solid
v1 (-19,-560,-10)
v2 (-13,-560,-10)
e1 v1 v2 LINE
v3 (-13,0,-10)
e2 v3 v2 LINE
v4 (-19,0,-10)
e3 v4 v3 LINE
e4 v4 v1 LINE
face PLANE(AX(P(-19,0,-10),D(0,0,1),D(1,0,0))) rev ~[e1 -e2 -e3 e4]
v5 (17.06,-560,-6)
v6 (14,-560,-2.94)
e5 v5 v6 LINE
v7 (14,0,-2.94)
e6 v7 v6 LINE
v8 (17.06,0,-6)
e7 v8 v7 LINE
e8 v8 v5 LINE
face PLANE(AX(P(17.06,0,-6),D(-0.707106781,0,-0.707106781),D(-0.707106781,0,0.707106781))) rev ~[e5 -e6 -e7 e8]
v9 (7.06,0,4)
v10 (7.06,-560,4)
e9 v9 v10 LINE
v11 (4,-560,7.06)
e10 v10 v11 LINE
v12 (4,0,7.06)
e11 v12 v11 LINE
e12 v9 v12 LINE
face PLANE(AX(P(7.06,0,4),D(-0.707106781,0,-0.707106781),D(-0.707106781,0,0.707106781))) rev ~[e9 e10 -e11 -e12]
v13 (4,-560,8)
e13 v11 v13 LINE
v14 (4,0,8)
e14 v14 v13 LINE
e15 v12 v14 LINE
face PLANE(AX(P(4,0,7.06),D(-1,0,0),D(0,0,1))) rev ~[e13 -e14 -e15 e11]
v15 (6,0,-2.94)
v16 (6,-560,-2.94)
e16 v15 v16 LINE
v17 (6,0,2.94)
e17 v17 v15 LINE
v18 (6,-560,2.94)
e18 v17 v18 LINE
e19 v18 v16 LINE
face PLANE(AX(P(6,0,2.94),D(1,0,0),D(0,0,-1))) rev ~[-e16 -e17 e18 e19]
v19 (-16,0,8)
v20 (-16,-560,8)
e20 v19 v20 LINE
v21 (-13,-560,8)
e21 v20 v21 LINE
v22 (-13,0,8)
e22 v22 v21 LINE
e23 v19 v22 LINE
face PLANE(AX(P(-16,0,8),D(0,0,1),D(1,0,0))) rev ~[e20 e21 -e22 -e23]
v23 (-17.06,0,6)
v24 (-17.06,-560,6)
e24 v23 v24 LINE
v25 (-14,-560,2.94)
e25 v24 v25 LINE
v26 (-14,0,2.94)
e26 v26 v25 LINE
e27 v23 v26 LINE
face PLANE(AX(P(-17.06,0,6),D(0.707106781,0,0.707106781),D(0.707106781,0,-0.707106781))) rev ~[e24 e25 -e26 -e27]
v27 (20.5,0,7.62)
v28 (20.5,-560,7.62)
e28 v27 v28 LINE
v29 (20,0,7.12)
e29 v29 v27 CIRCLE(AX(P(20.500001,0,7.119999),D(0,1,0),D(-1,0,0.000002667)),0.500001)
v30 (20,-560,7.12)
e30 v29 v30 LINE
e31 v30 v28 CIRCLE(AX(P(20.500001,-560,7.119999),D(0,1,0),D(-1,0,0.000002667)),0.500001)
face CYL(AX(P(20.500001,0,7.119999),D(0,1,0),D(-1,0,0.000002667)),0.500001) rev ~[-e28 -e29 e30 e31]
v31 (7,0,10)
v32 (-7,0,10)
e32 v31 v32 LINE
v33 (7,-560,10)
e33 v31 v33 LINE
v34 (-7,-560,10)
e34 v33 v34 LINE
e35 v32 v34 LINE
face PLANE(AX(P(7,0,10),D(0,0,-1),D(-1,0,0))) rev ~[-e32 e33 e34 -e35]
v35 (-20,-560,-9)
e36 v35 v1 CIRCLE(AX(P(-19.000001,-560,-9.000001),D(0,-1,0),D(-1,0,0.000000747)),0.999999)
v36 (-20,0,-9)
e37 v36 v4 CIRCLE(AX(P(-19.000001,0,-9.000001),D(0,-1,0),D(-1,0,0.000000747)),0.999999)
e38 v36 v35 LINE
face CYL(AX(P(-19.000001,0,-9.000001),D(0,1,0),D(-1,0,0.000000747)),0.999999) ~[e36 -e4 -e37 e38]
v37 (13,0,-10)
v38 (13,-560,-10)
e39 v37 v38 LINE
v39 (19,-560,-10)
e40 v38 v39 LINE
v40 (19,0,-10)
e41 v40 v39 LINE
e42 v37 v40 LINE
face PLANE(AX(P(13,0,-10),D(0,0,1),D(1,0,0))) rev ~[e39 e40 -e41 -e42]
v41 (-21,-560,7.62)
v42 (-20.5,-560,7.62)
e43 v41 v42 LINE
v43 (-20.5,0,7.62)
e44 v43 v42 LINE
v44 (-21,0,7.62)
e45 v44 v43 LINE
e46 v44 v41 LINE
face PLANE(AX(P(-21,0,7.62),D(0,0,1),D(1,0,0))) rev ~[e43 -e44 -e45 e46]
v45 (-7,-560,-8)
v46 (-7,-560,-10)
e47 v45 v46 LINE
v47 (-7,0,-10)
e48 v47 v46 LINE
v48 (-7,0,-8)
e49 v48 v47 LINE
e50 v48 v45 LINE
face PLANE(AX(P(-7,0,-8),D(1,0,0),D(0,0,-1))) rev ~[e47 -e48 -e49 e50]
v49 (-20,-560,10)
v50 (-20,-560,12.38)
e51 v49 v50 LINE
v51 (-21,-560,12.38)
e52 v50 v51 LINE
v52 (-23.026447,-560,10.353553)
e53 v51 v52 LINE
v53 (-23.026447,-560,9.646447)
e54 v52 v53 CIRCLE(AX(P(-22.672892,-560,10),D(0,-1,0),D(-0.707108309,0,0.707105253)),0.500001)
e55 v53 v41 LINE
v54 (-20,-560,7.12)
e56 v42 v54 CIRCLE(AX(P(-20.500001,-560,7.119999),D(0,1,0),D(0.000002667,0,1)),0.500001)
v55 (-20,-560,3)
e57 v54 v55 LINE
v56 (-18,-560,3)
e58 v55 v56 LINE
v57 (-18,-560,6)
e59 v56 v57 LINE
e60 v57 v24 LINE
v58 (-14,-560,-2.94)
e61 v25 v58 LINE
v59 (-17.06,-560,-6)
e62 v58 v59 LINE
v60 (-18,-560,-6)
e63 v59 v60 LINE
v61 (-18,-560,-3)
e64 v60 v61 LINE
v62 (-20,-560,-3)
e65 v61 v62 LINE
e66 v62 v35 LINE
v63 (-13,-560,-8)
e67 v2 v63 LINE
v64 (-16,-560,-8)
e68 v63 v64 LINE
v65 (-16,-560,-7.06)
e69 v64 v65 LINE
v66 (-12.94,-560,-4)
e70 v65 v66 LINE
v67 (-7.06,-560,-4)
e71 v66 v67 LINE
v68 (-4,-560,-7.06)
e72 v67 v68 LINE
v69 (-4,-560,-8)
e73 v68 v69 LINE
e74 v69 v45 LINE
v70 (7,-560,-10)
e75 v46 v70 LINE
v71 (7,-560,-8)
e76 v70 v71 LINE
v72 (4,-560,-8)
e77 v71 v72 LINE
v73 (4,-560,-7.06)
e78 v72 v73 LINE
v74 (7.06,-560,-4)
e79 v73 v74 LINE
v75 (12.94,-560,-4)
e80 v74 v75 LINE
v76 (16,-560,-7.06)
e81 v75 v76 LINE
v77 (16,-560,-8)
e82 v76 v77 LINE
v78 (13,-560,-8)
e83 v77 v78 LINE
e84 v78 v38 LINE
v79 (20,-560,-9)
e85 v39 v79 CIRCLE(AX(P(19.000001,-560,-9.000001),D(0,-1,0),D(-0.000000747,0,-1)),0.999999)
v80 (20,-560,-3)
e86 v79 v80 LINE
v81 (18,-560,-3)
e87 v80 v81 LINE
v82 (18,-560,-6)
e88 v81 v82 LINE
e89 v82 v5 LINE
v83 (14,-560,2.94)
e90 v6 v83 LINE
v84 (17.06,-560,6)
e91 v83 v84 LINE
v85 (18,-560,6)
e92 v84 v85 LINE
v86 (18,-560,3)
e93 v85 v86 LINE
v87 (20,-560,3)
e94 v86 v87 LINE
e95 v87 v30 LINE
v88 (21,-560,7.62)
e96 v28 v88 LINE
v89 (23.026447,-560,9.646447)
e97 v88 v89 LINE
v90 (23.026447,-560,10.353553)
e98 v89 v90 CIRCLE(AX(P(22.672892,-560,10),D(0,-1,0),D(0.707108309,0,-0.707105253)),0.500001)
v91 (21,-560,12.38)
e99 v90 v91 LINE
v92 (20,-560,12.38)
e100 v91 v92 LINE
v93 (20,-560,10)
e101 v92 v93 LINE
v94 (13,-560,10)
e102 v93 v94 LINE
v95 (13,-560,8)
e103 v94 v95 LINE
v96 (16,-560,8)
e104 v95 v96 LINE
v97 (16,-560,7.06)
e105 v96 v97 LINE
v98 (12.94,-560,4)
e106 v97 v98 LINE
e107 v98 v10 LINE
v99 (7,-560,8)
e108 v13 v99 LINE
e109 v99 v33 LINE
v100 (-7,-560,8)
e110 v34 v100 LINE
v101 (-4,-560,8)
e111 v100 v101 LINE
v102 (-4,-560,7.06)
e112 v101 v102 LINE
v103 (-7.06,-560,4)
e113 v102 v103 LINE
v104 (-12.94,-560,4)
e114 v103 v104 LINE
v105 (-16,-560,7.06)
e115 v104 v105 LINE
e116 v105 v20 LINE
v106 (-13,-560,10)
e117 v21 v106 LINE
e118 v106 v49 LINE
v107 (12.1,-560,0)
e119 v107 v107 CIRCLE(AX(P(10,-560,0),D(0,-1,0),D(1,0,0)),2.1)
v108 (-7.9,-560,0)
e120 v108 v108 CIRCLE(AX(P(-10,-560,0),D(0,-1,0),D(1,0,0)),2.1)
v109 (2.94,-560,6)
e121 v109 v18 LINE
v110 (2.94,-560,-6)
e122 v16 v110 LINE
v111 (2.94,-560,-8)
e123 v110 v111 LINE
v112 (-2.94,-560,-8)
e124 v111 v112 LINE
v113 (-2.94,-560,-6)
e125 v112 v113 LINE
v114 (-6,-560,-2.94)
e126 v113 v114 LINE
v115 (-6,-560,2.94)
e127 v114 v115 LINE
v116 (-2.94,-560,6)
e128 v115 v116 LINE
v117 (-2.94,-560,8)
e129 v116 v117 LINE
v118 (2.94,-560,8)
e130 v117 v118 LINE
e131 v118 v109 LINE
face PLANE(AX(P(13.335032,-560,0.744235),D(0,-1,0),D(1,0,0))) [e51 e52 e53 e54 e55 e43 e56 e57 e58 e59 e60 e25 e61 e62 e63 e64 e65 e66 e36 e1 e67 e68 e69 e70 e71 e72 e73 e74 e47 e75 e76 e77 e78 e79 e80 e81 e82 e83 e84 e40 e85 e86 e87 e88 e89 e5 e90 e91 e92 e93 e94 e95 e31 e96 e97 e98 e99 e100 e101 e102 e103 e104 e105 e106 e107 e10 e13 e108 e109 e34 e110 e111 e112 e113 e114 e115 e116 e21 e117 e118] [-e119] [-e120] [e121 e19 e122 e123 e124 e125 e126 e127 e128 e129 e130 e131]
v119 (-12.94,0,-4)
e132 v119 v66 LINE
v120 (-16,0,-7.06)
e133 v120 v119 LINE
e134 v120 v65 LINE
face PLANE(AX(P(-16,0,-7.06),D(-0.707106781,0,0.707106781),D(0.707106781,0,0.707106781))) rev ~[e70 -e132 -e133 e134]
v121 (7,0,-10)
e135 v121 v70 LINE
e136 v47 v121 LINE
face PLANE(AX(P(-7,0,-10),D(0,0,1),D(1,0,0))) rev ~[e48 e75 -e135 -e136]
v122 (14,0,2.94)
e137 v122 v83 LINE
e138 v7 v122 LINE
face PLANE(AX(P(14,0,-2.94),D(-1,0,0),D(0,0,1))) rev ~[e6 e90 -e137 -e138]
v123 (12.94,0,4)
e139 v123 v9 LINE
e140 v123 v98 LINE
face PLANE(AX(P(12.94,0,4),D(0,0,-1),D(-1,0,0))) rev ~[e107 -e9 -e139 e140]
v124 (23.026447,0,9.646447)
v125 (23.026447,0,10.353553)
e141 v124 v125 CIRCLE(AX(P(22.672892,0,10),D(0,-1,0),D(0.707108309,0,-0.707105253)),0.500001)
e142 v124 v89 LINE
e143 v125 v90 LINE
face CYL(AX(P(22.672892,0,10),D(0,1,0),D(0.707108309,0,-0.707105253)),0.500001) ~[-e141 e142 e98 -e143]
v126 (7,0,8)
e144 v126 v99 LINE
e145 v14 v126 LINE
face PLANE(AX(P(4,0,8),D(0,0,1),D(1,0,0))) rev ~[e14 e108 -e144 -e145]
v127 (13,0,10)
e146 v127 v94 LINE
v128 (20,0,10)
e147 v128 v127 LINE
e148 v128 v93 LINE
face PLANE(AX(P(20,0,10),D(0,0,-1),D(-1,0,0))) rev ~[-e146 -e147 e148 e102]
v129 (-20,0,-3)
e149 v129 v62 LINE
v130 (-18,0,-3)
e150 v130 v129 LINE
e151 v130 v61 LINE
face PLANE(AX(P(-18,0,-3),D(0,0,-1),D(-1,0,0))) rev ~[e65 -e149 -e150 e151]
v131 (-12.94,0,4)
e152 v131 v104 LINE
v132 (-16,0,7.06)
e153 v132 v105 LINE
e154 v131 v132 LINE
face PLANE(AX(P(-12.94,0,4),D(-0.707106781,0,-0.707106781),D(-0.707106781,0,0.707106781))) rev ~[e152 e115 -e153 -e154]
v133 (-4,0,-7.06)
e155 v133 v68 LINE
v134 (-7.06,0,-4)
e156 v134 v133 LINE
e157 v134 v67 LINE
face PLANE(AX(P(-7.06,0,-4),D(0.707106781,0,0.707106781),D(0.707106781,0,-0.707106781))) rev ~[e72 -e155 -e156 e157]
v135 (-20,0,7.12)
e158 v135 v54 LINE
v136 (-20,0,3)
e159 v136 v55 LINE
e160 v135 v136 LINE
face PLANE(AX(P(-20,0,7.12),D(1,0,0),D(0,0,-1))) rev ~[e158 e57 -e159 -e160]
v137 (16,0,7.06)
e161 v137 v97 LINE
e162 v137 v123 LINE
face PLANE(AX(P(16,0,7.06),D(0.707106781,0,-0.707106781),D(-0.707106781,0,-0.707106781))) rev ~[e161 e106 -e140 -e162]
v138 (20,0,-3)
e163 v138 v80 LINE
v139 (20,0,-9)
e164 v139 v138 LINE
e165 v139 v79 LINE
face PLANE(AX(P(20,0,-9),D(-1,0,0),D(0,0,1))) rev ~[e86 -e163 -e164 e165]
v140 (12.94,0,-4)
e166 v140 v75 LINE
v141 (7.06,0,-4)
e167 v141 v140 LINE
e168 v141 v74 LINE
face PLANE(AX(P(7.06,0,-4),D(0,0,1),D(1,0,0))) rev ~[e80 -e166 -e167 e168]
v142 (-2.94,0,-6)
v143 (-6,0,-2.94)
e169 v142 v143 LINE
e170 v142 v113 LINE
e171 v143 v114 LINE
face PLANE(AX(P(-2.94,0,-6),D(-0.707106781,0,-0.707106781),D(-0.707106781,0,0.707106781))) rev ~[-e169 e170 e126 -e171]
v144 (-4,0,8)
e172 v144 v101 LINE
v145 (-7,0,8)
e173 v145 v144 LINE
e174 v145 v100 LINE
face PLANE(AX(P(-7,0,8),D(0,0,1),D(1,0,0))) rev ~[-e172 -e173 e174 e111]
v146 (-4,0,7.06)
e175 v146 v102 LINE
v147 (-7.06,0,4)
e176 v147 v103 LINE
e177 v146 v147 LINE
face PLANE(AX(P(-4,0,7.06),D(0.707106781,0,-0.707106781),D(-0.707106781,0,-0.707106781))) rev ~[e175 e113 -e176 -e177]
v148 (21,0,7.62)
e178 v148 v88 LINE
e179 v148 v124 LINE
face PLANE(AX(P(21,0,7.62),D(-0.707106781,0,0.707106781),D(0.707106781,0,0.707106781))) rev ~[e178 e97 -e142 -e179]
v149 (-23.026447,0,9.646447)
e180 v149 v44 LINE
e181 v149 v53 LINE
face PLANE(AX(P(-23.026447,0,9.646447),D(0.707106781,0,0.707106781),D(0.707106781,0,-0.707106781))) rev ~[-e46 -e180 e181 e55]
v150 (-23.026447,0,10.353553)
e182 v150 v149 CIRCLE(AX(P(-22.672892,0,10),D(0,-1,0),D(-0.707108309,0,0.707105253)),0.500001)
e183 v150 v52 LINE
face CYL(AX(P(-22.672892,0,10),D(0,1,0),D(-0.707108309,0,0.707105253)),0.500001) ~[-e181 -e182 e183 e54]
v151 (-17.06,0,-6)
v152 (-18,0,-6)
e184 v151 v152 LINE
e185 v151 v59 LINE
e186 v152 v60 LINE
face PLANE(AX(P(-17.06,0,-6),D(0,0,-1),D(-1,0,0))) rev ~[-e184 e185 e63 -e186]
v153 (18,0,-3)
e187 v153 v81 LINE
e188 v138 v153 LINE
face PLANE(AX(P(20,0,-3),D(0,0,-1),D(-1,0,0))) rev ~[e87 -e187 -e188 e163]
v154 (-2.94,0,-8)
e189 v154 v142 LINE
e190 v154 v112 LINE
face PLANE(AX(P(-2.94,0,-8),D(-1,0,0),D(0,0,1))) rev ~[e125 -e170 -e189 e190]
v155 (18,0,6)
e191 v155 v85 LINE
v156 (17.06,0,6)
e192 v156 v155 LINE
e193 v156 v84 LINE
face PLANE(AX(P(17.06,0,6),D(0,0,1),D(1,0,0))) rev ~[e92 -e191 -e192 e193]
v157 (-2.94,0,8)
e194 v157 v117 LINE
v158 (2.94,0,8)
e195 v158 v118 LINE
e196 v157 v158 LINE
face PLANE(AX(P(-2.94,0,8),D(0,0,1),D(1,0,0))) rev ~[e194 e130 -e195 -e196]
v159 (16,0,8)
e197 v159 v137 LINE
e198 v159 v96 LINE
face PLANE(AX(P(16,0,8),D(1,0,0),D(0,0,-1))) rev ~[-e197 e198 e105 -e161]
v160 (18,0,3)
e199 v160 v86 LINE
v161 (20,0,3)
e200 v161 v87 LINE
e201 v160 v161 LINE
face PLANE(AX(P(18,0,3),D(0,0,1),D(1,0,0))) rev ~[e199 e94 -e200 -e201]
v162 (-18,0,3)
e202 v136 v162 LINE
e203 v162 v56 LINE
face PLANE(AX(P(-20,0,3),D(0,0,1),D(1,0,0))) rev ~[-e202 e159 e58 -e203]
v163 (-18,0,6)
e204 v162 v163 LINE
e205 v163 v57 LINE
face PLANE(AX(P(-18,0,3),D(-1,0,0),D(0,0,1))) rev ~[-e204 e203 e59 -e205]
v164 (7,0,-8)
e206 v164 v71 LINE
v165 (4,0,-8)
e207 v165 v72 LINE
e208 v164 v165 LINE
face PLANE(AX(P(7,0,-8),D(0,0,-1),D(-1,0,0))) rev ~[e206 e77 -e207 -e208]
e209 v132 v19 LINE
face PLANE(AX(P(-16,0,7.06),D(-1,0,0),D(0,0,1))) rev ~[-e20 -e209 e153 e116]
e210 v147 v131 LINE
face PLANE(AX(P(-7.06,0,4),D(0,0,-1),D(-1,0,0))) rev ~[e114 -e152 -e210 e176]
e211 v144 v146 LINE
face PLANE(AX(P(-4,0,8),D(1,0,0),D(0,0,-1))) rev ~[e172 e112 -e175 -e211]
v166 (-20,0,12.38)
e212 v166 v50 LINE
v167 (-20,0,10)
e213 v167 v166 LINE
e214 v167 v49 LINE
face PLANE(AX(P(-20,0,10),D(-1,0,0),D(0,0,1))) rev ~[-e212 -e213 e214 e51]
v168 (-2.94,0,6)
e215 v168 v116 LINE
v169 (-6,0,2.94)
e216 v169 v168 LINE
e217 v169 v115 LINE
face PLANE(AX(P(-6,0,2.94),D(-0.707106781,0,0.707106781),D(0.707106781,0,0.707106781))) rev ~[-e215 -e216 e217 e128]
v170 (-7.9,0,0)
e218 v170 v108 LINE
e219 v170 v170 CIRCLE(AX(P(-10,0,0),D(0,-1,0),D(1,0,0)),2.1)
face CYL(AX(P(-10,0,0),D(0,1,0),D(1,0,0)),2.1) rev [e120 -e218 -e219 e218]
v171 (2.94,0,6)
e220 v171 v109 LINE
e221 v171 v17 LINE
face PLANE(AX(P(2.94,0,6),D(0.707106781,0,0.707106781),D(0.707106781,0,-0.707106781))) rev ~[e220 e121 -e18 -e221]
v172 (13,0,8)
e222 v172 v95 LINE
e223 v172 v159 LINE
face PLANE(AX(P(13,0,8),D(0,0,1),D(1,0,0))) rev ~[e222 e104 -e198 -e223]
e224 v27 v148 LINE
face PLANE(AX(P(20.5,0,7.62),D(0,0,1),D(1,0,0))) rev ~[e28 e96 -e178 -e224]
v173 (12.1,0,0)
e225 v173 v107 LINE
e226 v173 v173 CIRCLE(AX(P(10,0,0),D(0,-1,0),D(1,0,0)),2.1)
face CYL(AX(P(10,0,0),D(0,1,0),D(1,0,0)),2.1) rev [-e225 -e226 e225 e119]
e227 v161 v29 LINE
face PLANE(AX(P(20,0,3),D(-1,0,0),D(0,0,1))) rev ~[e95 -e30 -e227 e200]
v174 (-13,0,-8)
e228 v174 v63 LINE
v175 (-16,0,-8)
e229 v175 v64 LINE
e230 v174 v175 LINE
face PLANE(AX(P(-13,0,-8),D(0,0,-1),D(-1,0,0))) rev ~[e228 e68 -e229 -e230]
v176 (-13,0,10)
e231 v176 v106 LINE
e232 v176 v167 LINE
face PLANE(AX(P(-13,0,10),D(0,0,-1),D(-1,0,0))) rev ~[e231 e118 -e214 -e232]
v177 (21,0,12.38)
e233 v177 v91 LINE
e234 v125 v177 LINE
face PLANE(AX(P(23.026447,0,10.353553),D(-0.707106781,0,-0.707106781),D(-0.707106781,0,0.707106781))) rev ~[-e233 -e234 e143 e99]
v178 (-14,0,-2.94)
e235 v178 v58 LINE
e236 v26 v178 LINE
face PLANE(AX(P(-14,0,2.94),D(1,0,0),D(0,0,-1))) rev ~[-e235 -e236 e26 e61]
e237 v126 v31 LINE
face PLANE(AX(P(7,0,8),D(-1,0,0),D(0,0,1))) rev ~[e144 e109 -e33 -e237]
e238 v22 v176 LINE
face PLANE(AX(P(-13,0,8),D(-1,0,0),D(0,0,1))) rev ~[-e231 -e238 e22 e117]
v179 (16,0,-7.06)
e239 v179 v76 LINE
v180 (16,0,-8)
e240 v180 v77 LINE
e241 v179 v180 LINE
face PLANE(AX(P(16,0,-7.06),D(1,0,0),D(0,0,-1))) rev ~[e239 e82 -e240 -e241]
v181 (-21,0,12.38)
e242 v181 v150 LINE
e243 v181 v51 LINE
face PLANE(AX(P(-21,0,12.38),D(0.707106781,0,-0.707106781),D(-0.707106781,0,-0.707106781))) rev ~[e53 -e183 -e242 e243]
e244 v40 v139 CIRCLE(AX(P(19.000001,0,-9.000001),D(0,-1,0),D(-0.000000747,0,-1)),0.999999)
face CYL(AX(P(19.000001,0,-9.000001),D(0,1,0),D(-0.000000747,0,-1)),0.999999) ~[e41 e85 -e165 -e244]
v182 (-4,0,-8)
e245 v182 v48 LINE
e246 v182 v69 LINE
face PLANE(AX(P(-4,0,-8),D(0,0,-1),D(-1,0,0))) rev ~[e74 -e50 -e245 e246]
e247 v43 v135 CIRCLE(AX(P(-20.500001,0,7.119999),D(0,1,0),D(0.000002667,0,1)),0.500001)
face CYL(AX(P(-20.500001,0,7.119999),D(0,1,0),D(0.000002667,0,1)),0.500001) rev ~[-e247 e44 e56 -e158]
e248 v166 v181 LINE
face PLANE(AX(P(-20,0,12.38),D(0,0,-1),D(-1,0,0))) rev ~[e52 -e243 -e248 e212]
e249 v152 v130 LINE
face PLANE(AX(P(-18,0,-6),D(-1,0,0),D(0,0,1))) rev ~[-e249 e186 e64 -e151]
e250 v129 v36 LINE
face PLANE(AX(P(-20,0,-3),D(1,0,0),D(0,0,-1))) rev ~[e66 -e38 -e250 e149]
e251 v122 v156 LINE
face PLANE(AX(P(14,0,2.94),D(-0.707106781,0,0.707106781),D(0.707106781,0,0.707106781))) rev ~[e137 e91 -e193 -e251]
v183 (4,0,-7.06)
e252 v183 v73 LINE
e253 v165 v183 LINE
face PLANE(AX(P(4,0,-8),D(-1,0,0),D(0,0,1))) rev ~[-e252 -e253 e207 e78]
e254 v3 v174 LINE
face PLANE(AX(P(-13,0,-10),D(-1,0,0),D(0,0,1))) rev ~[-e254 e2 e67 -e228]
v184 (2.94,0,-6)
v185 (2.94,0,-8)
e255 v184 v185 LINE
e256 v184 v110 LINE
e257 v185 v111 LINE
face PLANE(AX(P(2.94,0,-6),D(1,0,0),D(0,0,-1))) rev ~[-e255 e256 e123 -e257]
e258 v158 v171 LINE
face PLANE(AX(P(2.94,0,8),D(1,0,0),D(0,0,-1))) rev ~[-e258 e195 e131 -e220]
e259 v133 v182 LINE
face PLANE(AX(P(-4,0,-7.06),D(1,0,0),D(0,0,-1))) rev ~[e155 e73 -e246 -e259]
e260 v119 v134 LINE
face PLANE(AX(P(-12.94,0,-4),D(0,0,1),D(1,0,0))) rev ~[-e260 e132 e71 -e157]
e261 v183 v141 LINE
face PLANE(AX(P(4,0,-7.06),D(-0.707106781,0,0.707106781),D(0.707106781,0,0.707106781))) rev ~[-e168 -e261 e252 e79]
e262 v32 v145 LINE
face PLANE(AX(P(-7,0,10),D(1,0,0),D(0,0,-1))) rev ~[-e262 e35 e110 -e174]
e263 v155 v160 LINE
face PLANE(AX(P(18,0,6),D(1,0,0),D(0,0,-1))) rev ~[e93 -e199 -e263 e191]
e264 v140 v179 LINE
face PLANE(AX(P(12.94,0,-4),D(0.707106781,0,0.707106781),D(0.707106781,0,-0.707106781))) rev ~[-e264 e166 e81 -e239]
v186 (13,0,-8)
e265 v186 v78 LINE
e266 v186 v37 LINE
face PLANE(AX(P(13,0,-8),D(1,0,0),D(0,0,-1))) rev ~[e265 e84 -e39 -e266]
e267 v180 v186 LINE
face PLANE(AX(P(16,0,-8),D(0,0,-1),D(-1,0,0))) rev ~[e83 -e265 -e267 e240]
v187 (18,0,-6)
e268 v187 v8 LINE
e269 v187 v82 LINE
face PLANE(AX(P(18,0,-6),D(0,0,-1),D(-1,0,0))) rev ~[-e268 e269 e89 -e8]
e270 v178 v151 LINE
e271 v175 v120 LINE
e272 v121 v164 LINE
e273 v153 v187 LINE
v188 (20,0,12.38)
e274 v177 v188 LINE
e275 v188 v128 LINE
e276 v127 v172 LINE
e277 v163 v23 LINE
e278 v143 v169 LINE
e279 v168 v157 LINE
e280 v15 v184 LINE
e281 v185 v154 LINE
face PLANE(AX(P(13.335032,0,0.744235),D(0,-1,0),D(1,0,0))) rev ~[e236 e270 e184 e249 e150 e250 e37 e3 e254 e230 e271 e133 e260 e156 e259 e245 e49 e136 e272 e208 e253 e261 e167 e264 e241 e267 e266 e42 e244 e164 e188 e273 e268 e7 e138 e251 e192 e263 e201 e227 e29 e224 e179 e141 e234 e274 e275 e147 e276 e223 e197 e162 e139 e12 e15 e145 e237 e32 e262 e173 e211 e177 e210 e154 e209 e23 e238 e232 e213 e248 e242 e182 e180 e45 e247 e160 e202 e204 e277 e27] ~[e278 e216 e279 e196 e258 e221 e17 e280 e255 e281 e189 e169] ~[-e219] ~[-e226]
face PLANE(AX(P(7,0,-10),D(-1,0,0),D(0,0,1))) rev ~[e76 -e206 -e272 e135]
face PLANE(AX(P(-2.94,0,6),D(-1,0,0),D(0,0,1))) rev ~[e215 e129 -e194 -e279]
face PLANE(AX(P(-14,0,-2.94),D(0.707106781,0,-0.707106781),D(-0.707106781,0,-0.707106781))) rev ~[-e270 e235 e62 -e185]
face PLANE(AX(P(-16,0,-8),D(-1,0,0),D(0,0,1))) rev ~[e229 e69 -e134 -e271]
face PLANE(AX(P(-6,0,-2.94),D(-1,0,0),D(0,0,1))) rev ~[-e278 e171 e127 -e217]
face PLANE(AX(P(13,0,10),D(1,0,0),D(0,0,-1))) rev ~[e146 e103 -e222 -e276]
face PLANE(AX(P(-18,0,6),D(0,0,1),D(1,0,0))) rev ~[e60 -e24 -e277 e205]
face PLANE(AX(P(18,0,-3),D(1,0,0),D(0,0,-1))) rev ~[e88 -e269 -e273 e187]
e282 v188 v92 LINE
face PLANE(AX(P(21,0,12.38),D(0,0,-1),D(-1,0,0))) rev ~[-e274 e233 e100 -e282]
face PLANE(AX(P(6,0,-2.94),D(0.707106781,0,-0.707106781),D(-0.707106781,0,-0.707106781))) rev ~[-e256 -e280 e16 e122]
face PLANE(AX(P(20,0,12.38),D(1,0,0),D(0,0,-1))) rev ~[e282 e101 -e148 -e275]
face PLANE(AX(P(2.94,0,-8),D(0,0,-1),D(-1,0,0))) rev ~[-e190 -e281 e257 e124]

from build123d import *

# Parameters (mm, degrees)
F0_R     = 2.1
F1_DEPTH = 560


with BuildPart() as f1:
    # F0 (on Front) → F1 (new body)
    with BuildSketch(Plane.XZ):
        with BuildLine():
            Line((20, 12.38), (20, 10))
            Line((20, 10), (16, 10))
            Line((16, 10), (13, 10))
            Line((13, 10), (13, 8))
            Line((13, 8), (16, 8))
            Line((16, 8), (16, 7.06))
            Line((16, 7.06), (12.94, 4))
            Line((12.94, 4), (7.06, 4))
            Line((7.06, 4), (4, 7.06))
            Line((4, 7.06), (4, 8))
            Line((4, 8), (2.94, 8))
            Line((2.94, 8), (2.94, 6))
            Line((2.94, 6), (6, 2.94))
            Line((6, 2.94), (6, -2.94))
            Line((6, -2.94), (2.94, -6))
            Line((2.94, -6), (2.94, -8))
            Line((2.94, -8), (4, -8))
            Line((4, -8), (4, -7.06))
            Line((4, -7.06), (7.06, -4))
            Line((7.06, -4), (12.94, -4))
            Line((12.94, -4), (16, -7.06))
            Line((16, -7.06), (16, -8))
            Line((16, -8), (13, -8))
            Line((13, -8), (13, -10))
            Line((13, -10), (16, -10))
            Line((16, -10), (19, -10))
            ThreePointArc((19, -10), (19.707107, -9.707107), (20, -9))
            Line((20, -9), (20, -6))
            Line((20, -6), (20, -3))
            Line((20, -3), (18, -3))
            Line((18, -3), (18, -6))
            Line((18, -6), (17.06, -6))
            Line((17.06, -6), (14, -2.94))
            Line((14, -2.94), (14, 2.94))
            Line((14, 2.94), (17.06, 6))
            Line((17.06, 6), (18, 6))
            Line((18, 6), (18, 3))
            Line((18, 3), (20, 3))
            Line((20, 3), (20, 6))
            Line((20, 6), (20, 7.12))
            ThreePointArc((20, 7.12), (20.146447, 7.473553), (20.5, 7.62))
            Line((20.5, 7.62), (21, 7.62))
            Line((21, 7.62), (23.026447, 9.646447))
            ThreePointArc((23.026447, 9.646447), (23.172893, 10), (23.026447, 10.353553))
            Line((23.026447, 10.353553), (21, 12.38))
            Line((21, 12.38), (20, 12.38))
        make_face()
        with Locations((10, 0)):
            Circle(F0_R, mode=Mode.SUBTRACT)
        Polygon((2.94, 8), (4, 8), (7, 8), (7, 10), (1, 10), (-7, 10), (-7, 8), (-4, 8), (-2.94, 8), align=None)
        with BuildLine():
            Line((-2.94, 6), (-2.94, 8))
            Line((-2.94, 8), (-4, 8))
            Line((-4, 8), (-4, 7.06))
            Line((-4, 7.06), (-7.06, 4))
            Line((-7.06, 4), (-12.94, 4))
            Line((-12.94, 4), (-16, 7.06))
            Line((-16, 7.06), (-16, 8))
            Line((-16, 8), (-13, 8))
            Line((-13, 8), (-13, 10))
            Line((-13, 10), (-16, 10))
            Line((-16, 10), (-20, 10))
            Line((-20, 10), (-20, 12.38))
            Line((-20, 12.38), (-21, 12.38))
            Line((-21, 12.38), (-23.026447, 10.353553))
            ThreePointArc((-23.026447, 10.353553), (-23.172893, 10), (-23.026447, 9.646447))
            Line((-23.026447, 9.646447), (-21, 7.62))
            Line((-21, 7.62), (-20.5, 7.62))
            ThreePointArc((-20.5, 7.62), (-20.146447, 7.473553), (-20, 7.12))
            Line((-20, 7.12), (-20, 6))
            Line((-20, 6), (-20, 3))
            Line((-20, 3), (-18, 3))
            Line((-18, 3), (-18, 6))
            Line((-18, 6), (-17.06, 6))
            Line((-17.06, 6), (-14, 2.94))
            Line((-14, 2.94), (-14, -2.94))
            Line((-14, -2.94), (-17.06, -6))
            Line((-17.06, -6), (-18, -6))
            Line((-18, -6), (-18, -3))
            Line((-18, -3), (-20, -3))
            Line((-20, -3), (-20, -6))
            Line((-20, -6), (-20, -9))
            ThreePointArc((-20, -9), (-19.707107, -9.707107), (-19, -10))
            Line((-19, -10), (-16, -10))
            Line((-16, -10), (-13, -10))
            Line((-13, -10), (-13, -8))
            Line((-13, -8), (-16, -8))
            Line((-16, -8), (-16, -7.06))
            Line((-16, -7.06), (-12.94, -4))
            Line((-12.94, -4), (-7.06, -4))
            Line((-7.06, -4), (-4, -7.06))
            Line((-4, -7.06), (-4, -8))
            Line((-4, -8), (-7, -8))
            Line((-7, -8), (-7, -10))
            Line((-7, -10), (7, -10))
            Line((7, -10), (7, -8))
            Line((7, -8), (4, -8))
            Line((4, -8), (2.94, -8))
            Line((2.94, -8), (-2.94, -8))
            Line((-2.94, -8), (-2.94, -6))
            Line((-2.94, -6), (-6, -2.94))
            Line((-6, -2.94), (-6, 2.94))
            Line((-6, 2.94), (-2.94, 6))
        make_face()
        with Locations((-10, 0)):
            Circle(F0_R, mode=Mode.SUBTRACT)
    extrude(amount=F1_DEPTH)


solid = f1.part
